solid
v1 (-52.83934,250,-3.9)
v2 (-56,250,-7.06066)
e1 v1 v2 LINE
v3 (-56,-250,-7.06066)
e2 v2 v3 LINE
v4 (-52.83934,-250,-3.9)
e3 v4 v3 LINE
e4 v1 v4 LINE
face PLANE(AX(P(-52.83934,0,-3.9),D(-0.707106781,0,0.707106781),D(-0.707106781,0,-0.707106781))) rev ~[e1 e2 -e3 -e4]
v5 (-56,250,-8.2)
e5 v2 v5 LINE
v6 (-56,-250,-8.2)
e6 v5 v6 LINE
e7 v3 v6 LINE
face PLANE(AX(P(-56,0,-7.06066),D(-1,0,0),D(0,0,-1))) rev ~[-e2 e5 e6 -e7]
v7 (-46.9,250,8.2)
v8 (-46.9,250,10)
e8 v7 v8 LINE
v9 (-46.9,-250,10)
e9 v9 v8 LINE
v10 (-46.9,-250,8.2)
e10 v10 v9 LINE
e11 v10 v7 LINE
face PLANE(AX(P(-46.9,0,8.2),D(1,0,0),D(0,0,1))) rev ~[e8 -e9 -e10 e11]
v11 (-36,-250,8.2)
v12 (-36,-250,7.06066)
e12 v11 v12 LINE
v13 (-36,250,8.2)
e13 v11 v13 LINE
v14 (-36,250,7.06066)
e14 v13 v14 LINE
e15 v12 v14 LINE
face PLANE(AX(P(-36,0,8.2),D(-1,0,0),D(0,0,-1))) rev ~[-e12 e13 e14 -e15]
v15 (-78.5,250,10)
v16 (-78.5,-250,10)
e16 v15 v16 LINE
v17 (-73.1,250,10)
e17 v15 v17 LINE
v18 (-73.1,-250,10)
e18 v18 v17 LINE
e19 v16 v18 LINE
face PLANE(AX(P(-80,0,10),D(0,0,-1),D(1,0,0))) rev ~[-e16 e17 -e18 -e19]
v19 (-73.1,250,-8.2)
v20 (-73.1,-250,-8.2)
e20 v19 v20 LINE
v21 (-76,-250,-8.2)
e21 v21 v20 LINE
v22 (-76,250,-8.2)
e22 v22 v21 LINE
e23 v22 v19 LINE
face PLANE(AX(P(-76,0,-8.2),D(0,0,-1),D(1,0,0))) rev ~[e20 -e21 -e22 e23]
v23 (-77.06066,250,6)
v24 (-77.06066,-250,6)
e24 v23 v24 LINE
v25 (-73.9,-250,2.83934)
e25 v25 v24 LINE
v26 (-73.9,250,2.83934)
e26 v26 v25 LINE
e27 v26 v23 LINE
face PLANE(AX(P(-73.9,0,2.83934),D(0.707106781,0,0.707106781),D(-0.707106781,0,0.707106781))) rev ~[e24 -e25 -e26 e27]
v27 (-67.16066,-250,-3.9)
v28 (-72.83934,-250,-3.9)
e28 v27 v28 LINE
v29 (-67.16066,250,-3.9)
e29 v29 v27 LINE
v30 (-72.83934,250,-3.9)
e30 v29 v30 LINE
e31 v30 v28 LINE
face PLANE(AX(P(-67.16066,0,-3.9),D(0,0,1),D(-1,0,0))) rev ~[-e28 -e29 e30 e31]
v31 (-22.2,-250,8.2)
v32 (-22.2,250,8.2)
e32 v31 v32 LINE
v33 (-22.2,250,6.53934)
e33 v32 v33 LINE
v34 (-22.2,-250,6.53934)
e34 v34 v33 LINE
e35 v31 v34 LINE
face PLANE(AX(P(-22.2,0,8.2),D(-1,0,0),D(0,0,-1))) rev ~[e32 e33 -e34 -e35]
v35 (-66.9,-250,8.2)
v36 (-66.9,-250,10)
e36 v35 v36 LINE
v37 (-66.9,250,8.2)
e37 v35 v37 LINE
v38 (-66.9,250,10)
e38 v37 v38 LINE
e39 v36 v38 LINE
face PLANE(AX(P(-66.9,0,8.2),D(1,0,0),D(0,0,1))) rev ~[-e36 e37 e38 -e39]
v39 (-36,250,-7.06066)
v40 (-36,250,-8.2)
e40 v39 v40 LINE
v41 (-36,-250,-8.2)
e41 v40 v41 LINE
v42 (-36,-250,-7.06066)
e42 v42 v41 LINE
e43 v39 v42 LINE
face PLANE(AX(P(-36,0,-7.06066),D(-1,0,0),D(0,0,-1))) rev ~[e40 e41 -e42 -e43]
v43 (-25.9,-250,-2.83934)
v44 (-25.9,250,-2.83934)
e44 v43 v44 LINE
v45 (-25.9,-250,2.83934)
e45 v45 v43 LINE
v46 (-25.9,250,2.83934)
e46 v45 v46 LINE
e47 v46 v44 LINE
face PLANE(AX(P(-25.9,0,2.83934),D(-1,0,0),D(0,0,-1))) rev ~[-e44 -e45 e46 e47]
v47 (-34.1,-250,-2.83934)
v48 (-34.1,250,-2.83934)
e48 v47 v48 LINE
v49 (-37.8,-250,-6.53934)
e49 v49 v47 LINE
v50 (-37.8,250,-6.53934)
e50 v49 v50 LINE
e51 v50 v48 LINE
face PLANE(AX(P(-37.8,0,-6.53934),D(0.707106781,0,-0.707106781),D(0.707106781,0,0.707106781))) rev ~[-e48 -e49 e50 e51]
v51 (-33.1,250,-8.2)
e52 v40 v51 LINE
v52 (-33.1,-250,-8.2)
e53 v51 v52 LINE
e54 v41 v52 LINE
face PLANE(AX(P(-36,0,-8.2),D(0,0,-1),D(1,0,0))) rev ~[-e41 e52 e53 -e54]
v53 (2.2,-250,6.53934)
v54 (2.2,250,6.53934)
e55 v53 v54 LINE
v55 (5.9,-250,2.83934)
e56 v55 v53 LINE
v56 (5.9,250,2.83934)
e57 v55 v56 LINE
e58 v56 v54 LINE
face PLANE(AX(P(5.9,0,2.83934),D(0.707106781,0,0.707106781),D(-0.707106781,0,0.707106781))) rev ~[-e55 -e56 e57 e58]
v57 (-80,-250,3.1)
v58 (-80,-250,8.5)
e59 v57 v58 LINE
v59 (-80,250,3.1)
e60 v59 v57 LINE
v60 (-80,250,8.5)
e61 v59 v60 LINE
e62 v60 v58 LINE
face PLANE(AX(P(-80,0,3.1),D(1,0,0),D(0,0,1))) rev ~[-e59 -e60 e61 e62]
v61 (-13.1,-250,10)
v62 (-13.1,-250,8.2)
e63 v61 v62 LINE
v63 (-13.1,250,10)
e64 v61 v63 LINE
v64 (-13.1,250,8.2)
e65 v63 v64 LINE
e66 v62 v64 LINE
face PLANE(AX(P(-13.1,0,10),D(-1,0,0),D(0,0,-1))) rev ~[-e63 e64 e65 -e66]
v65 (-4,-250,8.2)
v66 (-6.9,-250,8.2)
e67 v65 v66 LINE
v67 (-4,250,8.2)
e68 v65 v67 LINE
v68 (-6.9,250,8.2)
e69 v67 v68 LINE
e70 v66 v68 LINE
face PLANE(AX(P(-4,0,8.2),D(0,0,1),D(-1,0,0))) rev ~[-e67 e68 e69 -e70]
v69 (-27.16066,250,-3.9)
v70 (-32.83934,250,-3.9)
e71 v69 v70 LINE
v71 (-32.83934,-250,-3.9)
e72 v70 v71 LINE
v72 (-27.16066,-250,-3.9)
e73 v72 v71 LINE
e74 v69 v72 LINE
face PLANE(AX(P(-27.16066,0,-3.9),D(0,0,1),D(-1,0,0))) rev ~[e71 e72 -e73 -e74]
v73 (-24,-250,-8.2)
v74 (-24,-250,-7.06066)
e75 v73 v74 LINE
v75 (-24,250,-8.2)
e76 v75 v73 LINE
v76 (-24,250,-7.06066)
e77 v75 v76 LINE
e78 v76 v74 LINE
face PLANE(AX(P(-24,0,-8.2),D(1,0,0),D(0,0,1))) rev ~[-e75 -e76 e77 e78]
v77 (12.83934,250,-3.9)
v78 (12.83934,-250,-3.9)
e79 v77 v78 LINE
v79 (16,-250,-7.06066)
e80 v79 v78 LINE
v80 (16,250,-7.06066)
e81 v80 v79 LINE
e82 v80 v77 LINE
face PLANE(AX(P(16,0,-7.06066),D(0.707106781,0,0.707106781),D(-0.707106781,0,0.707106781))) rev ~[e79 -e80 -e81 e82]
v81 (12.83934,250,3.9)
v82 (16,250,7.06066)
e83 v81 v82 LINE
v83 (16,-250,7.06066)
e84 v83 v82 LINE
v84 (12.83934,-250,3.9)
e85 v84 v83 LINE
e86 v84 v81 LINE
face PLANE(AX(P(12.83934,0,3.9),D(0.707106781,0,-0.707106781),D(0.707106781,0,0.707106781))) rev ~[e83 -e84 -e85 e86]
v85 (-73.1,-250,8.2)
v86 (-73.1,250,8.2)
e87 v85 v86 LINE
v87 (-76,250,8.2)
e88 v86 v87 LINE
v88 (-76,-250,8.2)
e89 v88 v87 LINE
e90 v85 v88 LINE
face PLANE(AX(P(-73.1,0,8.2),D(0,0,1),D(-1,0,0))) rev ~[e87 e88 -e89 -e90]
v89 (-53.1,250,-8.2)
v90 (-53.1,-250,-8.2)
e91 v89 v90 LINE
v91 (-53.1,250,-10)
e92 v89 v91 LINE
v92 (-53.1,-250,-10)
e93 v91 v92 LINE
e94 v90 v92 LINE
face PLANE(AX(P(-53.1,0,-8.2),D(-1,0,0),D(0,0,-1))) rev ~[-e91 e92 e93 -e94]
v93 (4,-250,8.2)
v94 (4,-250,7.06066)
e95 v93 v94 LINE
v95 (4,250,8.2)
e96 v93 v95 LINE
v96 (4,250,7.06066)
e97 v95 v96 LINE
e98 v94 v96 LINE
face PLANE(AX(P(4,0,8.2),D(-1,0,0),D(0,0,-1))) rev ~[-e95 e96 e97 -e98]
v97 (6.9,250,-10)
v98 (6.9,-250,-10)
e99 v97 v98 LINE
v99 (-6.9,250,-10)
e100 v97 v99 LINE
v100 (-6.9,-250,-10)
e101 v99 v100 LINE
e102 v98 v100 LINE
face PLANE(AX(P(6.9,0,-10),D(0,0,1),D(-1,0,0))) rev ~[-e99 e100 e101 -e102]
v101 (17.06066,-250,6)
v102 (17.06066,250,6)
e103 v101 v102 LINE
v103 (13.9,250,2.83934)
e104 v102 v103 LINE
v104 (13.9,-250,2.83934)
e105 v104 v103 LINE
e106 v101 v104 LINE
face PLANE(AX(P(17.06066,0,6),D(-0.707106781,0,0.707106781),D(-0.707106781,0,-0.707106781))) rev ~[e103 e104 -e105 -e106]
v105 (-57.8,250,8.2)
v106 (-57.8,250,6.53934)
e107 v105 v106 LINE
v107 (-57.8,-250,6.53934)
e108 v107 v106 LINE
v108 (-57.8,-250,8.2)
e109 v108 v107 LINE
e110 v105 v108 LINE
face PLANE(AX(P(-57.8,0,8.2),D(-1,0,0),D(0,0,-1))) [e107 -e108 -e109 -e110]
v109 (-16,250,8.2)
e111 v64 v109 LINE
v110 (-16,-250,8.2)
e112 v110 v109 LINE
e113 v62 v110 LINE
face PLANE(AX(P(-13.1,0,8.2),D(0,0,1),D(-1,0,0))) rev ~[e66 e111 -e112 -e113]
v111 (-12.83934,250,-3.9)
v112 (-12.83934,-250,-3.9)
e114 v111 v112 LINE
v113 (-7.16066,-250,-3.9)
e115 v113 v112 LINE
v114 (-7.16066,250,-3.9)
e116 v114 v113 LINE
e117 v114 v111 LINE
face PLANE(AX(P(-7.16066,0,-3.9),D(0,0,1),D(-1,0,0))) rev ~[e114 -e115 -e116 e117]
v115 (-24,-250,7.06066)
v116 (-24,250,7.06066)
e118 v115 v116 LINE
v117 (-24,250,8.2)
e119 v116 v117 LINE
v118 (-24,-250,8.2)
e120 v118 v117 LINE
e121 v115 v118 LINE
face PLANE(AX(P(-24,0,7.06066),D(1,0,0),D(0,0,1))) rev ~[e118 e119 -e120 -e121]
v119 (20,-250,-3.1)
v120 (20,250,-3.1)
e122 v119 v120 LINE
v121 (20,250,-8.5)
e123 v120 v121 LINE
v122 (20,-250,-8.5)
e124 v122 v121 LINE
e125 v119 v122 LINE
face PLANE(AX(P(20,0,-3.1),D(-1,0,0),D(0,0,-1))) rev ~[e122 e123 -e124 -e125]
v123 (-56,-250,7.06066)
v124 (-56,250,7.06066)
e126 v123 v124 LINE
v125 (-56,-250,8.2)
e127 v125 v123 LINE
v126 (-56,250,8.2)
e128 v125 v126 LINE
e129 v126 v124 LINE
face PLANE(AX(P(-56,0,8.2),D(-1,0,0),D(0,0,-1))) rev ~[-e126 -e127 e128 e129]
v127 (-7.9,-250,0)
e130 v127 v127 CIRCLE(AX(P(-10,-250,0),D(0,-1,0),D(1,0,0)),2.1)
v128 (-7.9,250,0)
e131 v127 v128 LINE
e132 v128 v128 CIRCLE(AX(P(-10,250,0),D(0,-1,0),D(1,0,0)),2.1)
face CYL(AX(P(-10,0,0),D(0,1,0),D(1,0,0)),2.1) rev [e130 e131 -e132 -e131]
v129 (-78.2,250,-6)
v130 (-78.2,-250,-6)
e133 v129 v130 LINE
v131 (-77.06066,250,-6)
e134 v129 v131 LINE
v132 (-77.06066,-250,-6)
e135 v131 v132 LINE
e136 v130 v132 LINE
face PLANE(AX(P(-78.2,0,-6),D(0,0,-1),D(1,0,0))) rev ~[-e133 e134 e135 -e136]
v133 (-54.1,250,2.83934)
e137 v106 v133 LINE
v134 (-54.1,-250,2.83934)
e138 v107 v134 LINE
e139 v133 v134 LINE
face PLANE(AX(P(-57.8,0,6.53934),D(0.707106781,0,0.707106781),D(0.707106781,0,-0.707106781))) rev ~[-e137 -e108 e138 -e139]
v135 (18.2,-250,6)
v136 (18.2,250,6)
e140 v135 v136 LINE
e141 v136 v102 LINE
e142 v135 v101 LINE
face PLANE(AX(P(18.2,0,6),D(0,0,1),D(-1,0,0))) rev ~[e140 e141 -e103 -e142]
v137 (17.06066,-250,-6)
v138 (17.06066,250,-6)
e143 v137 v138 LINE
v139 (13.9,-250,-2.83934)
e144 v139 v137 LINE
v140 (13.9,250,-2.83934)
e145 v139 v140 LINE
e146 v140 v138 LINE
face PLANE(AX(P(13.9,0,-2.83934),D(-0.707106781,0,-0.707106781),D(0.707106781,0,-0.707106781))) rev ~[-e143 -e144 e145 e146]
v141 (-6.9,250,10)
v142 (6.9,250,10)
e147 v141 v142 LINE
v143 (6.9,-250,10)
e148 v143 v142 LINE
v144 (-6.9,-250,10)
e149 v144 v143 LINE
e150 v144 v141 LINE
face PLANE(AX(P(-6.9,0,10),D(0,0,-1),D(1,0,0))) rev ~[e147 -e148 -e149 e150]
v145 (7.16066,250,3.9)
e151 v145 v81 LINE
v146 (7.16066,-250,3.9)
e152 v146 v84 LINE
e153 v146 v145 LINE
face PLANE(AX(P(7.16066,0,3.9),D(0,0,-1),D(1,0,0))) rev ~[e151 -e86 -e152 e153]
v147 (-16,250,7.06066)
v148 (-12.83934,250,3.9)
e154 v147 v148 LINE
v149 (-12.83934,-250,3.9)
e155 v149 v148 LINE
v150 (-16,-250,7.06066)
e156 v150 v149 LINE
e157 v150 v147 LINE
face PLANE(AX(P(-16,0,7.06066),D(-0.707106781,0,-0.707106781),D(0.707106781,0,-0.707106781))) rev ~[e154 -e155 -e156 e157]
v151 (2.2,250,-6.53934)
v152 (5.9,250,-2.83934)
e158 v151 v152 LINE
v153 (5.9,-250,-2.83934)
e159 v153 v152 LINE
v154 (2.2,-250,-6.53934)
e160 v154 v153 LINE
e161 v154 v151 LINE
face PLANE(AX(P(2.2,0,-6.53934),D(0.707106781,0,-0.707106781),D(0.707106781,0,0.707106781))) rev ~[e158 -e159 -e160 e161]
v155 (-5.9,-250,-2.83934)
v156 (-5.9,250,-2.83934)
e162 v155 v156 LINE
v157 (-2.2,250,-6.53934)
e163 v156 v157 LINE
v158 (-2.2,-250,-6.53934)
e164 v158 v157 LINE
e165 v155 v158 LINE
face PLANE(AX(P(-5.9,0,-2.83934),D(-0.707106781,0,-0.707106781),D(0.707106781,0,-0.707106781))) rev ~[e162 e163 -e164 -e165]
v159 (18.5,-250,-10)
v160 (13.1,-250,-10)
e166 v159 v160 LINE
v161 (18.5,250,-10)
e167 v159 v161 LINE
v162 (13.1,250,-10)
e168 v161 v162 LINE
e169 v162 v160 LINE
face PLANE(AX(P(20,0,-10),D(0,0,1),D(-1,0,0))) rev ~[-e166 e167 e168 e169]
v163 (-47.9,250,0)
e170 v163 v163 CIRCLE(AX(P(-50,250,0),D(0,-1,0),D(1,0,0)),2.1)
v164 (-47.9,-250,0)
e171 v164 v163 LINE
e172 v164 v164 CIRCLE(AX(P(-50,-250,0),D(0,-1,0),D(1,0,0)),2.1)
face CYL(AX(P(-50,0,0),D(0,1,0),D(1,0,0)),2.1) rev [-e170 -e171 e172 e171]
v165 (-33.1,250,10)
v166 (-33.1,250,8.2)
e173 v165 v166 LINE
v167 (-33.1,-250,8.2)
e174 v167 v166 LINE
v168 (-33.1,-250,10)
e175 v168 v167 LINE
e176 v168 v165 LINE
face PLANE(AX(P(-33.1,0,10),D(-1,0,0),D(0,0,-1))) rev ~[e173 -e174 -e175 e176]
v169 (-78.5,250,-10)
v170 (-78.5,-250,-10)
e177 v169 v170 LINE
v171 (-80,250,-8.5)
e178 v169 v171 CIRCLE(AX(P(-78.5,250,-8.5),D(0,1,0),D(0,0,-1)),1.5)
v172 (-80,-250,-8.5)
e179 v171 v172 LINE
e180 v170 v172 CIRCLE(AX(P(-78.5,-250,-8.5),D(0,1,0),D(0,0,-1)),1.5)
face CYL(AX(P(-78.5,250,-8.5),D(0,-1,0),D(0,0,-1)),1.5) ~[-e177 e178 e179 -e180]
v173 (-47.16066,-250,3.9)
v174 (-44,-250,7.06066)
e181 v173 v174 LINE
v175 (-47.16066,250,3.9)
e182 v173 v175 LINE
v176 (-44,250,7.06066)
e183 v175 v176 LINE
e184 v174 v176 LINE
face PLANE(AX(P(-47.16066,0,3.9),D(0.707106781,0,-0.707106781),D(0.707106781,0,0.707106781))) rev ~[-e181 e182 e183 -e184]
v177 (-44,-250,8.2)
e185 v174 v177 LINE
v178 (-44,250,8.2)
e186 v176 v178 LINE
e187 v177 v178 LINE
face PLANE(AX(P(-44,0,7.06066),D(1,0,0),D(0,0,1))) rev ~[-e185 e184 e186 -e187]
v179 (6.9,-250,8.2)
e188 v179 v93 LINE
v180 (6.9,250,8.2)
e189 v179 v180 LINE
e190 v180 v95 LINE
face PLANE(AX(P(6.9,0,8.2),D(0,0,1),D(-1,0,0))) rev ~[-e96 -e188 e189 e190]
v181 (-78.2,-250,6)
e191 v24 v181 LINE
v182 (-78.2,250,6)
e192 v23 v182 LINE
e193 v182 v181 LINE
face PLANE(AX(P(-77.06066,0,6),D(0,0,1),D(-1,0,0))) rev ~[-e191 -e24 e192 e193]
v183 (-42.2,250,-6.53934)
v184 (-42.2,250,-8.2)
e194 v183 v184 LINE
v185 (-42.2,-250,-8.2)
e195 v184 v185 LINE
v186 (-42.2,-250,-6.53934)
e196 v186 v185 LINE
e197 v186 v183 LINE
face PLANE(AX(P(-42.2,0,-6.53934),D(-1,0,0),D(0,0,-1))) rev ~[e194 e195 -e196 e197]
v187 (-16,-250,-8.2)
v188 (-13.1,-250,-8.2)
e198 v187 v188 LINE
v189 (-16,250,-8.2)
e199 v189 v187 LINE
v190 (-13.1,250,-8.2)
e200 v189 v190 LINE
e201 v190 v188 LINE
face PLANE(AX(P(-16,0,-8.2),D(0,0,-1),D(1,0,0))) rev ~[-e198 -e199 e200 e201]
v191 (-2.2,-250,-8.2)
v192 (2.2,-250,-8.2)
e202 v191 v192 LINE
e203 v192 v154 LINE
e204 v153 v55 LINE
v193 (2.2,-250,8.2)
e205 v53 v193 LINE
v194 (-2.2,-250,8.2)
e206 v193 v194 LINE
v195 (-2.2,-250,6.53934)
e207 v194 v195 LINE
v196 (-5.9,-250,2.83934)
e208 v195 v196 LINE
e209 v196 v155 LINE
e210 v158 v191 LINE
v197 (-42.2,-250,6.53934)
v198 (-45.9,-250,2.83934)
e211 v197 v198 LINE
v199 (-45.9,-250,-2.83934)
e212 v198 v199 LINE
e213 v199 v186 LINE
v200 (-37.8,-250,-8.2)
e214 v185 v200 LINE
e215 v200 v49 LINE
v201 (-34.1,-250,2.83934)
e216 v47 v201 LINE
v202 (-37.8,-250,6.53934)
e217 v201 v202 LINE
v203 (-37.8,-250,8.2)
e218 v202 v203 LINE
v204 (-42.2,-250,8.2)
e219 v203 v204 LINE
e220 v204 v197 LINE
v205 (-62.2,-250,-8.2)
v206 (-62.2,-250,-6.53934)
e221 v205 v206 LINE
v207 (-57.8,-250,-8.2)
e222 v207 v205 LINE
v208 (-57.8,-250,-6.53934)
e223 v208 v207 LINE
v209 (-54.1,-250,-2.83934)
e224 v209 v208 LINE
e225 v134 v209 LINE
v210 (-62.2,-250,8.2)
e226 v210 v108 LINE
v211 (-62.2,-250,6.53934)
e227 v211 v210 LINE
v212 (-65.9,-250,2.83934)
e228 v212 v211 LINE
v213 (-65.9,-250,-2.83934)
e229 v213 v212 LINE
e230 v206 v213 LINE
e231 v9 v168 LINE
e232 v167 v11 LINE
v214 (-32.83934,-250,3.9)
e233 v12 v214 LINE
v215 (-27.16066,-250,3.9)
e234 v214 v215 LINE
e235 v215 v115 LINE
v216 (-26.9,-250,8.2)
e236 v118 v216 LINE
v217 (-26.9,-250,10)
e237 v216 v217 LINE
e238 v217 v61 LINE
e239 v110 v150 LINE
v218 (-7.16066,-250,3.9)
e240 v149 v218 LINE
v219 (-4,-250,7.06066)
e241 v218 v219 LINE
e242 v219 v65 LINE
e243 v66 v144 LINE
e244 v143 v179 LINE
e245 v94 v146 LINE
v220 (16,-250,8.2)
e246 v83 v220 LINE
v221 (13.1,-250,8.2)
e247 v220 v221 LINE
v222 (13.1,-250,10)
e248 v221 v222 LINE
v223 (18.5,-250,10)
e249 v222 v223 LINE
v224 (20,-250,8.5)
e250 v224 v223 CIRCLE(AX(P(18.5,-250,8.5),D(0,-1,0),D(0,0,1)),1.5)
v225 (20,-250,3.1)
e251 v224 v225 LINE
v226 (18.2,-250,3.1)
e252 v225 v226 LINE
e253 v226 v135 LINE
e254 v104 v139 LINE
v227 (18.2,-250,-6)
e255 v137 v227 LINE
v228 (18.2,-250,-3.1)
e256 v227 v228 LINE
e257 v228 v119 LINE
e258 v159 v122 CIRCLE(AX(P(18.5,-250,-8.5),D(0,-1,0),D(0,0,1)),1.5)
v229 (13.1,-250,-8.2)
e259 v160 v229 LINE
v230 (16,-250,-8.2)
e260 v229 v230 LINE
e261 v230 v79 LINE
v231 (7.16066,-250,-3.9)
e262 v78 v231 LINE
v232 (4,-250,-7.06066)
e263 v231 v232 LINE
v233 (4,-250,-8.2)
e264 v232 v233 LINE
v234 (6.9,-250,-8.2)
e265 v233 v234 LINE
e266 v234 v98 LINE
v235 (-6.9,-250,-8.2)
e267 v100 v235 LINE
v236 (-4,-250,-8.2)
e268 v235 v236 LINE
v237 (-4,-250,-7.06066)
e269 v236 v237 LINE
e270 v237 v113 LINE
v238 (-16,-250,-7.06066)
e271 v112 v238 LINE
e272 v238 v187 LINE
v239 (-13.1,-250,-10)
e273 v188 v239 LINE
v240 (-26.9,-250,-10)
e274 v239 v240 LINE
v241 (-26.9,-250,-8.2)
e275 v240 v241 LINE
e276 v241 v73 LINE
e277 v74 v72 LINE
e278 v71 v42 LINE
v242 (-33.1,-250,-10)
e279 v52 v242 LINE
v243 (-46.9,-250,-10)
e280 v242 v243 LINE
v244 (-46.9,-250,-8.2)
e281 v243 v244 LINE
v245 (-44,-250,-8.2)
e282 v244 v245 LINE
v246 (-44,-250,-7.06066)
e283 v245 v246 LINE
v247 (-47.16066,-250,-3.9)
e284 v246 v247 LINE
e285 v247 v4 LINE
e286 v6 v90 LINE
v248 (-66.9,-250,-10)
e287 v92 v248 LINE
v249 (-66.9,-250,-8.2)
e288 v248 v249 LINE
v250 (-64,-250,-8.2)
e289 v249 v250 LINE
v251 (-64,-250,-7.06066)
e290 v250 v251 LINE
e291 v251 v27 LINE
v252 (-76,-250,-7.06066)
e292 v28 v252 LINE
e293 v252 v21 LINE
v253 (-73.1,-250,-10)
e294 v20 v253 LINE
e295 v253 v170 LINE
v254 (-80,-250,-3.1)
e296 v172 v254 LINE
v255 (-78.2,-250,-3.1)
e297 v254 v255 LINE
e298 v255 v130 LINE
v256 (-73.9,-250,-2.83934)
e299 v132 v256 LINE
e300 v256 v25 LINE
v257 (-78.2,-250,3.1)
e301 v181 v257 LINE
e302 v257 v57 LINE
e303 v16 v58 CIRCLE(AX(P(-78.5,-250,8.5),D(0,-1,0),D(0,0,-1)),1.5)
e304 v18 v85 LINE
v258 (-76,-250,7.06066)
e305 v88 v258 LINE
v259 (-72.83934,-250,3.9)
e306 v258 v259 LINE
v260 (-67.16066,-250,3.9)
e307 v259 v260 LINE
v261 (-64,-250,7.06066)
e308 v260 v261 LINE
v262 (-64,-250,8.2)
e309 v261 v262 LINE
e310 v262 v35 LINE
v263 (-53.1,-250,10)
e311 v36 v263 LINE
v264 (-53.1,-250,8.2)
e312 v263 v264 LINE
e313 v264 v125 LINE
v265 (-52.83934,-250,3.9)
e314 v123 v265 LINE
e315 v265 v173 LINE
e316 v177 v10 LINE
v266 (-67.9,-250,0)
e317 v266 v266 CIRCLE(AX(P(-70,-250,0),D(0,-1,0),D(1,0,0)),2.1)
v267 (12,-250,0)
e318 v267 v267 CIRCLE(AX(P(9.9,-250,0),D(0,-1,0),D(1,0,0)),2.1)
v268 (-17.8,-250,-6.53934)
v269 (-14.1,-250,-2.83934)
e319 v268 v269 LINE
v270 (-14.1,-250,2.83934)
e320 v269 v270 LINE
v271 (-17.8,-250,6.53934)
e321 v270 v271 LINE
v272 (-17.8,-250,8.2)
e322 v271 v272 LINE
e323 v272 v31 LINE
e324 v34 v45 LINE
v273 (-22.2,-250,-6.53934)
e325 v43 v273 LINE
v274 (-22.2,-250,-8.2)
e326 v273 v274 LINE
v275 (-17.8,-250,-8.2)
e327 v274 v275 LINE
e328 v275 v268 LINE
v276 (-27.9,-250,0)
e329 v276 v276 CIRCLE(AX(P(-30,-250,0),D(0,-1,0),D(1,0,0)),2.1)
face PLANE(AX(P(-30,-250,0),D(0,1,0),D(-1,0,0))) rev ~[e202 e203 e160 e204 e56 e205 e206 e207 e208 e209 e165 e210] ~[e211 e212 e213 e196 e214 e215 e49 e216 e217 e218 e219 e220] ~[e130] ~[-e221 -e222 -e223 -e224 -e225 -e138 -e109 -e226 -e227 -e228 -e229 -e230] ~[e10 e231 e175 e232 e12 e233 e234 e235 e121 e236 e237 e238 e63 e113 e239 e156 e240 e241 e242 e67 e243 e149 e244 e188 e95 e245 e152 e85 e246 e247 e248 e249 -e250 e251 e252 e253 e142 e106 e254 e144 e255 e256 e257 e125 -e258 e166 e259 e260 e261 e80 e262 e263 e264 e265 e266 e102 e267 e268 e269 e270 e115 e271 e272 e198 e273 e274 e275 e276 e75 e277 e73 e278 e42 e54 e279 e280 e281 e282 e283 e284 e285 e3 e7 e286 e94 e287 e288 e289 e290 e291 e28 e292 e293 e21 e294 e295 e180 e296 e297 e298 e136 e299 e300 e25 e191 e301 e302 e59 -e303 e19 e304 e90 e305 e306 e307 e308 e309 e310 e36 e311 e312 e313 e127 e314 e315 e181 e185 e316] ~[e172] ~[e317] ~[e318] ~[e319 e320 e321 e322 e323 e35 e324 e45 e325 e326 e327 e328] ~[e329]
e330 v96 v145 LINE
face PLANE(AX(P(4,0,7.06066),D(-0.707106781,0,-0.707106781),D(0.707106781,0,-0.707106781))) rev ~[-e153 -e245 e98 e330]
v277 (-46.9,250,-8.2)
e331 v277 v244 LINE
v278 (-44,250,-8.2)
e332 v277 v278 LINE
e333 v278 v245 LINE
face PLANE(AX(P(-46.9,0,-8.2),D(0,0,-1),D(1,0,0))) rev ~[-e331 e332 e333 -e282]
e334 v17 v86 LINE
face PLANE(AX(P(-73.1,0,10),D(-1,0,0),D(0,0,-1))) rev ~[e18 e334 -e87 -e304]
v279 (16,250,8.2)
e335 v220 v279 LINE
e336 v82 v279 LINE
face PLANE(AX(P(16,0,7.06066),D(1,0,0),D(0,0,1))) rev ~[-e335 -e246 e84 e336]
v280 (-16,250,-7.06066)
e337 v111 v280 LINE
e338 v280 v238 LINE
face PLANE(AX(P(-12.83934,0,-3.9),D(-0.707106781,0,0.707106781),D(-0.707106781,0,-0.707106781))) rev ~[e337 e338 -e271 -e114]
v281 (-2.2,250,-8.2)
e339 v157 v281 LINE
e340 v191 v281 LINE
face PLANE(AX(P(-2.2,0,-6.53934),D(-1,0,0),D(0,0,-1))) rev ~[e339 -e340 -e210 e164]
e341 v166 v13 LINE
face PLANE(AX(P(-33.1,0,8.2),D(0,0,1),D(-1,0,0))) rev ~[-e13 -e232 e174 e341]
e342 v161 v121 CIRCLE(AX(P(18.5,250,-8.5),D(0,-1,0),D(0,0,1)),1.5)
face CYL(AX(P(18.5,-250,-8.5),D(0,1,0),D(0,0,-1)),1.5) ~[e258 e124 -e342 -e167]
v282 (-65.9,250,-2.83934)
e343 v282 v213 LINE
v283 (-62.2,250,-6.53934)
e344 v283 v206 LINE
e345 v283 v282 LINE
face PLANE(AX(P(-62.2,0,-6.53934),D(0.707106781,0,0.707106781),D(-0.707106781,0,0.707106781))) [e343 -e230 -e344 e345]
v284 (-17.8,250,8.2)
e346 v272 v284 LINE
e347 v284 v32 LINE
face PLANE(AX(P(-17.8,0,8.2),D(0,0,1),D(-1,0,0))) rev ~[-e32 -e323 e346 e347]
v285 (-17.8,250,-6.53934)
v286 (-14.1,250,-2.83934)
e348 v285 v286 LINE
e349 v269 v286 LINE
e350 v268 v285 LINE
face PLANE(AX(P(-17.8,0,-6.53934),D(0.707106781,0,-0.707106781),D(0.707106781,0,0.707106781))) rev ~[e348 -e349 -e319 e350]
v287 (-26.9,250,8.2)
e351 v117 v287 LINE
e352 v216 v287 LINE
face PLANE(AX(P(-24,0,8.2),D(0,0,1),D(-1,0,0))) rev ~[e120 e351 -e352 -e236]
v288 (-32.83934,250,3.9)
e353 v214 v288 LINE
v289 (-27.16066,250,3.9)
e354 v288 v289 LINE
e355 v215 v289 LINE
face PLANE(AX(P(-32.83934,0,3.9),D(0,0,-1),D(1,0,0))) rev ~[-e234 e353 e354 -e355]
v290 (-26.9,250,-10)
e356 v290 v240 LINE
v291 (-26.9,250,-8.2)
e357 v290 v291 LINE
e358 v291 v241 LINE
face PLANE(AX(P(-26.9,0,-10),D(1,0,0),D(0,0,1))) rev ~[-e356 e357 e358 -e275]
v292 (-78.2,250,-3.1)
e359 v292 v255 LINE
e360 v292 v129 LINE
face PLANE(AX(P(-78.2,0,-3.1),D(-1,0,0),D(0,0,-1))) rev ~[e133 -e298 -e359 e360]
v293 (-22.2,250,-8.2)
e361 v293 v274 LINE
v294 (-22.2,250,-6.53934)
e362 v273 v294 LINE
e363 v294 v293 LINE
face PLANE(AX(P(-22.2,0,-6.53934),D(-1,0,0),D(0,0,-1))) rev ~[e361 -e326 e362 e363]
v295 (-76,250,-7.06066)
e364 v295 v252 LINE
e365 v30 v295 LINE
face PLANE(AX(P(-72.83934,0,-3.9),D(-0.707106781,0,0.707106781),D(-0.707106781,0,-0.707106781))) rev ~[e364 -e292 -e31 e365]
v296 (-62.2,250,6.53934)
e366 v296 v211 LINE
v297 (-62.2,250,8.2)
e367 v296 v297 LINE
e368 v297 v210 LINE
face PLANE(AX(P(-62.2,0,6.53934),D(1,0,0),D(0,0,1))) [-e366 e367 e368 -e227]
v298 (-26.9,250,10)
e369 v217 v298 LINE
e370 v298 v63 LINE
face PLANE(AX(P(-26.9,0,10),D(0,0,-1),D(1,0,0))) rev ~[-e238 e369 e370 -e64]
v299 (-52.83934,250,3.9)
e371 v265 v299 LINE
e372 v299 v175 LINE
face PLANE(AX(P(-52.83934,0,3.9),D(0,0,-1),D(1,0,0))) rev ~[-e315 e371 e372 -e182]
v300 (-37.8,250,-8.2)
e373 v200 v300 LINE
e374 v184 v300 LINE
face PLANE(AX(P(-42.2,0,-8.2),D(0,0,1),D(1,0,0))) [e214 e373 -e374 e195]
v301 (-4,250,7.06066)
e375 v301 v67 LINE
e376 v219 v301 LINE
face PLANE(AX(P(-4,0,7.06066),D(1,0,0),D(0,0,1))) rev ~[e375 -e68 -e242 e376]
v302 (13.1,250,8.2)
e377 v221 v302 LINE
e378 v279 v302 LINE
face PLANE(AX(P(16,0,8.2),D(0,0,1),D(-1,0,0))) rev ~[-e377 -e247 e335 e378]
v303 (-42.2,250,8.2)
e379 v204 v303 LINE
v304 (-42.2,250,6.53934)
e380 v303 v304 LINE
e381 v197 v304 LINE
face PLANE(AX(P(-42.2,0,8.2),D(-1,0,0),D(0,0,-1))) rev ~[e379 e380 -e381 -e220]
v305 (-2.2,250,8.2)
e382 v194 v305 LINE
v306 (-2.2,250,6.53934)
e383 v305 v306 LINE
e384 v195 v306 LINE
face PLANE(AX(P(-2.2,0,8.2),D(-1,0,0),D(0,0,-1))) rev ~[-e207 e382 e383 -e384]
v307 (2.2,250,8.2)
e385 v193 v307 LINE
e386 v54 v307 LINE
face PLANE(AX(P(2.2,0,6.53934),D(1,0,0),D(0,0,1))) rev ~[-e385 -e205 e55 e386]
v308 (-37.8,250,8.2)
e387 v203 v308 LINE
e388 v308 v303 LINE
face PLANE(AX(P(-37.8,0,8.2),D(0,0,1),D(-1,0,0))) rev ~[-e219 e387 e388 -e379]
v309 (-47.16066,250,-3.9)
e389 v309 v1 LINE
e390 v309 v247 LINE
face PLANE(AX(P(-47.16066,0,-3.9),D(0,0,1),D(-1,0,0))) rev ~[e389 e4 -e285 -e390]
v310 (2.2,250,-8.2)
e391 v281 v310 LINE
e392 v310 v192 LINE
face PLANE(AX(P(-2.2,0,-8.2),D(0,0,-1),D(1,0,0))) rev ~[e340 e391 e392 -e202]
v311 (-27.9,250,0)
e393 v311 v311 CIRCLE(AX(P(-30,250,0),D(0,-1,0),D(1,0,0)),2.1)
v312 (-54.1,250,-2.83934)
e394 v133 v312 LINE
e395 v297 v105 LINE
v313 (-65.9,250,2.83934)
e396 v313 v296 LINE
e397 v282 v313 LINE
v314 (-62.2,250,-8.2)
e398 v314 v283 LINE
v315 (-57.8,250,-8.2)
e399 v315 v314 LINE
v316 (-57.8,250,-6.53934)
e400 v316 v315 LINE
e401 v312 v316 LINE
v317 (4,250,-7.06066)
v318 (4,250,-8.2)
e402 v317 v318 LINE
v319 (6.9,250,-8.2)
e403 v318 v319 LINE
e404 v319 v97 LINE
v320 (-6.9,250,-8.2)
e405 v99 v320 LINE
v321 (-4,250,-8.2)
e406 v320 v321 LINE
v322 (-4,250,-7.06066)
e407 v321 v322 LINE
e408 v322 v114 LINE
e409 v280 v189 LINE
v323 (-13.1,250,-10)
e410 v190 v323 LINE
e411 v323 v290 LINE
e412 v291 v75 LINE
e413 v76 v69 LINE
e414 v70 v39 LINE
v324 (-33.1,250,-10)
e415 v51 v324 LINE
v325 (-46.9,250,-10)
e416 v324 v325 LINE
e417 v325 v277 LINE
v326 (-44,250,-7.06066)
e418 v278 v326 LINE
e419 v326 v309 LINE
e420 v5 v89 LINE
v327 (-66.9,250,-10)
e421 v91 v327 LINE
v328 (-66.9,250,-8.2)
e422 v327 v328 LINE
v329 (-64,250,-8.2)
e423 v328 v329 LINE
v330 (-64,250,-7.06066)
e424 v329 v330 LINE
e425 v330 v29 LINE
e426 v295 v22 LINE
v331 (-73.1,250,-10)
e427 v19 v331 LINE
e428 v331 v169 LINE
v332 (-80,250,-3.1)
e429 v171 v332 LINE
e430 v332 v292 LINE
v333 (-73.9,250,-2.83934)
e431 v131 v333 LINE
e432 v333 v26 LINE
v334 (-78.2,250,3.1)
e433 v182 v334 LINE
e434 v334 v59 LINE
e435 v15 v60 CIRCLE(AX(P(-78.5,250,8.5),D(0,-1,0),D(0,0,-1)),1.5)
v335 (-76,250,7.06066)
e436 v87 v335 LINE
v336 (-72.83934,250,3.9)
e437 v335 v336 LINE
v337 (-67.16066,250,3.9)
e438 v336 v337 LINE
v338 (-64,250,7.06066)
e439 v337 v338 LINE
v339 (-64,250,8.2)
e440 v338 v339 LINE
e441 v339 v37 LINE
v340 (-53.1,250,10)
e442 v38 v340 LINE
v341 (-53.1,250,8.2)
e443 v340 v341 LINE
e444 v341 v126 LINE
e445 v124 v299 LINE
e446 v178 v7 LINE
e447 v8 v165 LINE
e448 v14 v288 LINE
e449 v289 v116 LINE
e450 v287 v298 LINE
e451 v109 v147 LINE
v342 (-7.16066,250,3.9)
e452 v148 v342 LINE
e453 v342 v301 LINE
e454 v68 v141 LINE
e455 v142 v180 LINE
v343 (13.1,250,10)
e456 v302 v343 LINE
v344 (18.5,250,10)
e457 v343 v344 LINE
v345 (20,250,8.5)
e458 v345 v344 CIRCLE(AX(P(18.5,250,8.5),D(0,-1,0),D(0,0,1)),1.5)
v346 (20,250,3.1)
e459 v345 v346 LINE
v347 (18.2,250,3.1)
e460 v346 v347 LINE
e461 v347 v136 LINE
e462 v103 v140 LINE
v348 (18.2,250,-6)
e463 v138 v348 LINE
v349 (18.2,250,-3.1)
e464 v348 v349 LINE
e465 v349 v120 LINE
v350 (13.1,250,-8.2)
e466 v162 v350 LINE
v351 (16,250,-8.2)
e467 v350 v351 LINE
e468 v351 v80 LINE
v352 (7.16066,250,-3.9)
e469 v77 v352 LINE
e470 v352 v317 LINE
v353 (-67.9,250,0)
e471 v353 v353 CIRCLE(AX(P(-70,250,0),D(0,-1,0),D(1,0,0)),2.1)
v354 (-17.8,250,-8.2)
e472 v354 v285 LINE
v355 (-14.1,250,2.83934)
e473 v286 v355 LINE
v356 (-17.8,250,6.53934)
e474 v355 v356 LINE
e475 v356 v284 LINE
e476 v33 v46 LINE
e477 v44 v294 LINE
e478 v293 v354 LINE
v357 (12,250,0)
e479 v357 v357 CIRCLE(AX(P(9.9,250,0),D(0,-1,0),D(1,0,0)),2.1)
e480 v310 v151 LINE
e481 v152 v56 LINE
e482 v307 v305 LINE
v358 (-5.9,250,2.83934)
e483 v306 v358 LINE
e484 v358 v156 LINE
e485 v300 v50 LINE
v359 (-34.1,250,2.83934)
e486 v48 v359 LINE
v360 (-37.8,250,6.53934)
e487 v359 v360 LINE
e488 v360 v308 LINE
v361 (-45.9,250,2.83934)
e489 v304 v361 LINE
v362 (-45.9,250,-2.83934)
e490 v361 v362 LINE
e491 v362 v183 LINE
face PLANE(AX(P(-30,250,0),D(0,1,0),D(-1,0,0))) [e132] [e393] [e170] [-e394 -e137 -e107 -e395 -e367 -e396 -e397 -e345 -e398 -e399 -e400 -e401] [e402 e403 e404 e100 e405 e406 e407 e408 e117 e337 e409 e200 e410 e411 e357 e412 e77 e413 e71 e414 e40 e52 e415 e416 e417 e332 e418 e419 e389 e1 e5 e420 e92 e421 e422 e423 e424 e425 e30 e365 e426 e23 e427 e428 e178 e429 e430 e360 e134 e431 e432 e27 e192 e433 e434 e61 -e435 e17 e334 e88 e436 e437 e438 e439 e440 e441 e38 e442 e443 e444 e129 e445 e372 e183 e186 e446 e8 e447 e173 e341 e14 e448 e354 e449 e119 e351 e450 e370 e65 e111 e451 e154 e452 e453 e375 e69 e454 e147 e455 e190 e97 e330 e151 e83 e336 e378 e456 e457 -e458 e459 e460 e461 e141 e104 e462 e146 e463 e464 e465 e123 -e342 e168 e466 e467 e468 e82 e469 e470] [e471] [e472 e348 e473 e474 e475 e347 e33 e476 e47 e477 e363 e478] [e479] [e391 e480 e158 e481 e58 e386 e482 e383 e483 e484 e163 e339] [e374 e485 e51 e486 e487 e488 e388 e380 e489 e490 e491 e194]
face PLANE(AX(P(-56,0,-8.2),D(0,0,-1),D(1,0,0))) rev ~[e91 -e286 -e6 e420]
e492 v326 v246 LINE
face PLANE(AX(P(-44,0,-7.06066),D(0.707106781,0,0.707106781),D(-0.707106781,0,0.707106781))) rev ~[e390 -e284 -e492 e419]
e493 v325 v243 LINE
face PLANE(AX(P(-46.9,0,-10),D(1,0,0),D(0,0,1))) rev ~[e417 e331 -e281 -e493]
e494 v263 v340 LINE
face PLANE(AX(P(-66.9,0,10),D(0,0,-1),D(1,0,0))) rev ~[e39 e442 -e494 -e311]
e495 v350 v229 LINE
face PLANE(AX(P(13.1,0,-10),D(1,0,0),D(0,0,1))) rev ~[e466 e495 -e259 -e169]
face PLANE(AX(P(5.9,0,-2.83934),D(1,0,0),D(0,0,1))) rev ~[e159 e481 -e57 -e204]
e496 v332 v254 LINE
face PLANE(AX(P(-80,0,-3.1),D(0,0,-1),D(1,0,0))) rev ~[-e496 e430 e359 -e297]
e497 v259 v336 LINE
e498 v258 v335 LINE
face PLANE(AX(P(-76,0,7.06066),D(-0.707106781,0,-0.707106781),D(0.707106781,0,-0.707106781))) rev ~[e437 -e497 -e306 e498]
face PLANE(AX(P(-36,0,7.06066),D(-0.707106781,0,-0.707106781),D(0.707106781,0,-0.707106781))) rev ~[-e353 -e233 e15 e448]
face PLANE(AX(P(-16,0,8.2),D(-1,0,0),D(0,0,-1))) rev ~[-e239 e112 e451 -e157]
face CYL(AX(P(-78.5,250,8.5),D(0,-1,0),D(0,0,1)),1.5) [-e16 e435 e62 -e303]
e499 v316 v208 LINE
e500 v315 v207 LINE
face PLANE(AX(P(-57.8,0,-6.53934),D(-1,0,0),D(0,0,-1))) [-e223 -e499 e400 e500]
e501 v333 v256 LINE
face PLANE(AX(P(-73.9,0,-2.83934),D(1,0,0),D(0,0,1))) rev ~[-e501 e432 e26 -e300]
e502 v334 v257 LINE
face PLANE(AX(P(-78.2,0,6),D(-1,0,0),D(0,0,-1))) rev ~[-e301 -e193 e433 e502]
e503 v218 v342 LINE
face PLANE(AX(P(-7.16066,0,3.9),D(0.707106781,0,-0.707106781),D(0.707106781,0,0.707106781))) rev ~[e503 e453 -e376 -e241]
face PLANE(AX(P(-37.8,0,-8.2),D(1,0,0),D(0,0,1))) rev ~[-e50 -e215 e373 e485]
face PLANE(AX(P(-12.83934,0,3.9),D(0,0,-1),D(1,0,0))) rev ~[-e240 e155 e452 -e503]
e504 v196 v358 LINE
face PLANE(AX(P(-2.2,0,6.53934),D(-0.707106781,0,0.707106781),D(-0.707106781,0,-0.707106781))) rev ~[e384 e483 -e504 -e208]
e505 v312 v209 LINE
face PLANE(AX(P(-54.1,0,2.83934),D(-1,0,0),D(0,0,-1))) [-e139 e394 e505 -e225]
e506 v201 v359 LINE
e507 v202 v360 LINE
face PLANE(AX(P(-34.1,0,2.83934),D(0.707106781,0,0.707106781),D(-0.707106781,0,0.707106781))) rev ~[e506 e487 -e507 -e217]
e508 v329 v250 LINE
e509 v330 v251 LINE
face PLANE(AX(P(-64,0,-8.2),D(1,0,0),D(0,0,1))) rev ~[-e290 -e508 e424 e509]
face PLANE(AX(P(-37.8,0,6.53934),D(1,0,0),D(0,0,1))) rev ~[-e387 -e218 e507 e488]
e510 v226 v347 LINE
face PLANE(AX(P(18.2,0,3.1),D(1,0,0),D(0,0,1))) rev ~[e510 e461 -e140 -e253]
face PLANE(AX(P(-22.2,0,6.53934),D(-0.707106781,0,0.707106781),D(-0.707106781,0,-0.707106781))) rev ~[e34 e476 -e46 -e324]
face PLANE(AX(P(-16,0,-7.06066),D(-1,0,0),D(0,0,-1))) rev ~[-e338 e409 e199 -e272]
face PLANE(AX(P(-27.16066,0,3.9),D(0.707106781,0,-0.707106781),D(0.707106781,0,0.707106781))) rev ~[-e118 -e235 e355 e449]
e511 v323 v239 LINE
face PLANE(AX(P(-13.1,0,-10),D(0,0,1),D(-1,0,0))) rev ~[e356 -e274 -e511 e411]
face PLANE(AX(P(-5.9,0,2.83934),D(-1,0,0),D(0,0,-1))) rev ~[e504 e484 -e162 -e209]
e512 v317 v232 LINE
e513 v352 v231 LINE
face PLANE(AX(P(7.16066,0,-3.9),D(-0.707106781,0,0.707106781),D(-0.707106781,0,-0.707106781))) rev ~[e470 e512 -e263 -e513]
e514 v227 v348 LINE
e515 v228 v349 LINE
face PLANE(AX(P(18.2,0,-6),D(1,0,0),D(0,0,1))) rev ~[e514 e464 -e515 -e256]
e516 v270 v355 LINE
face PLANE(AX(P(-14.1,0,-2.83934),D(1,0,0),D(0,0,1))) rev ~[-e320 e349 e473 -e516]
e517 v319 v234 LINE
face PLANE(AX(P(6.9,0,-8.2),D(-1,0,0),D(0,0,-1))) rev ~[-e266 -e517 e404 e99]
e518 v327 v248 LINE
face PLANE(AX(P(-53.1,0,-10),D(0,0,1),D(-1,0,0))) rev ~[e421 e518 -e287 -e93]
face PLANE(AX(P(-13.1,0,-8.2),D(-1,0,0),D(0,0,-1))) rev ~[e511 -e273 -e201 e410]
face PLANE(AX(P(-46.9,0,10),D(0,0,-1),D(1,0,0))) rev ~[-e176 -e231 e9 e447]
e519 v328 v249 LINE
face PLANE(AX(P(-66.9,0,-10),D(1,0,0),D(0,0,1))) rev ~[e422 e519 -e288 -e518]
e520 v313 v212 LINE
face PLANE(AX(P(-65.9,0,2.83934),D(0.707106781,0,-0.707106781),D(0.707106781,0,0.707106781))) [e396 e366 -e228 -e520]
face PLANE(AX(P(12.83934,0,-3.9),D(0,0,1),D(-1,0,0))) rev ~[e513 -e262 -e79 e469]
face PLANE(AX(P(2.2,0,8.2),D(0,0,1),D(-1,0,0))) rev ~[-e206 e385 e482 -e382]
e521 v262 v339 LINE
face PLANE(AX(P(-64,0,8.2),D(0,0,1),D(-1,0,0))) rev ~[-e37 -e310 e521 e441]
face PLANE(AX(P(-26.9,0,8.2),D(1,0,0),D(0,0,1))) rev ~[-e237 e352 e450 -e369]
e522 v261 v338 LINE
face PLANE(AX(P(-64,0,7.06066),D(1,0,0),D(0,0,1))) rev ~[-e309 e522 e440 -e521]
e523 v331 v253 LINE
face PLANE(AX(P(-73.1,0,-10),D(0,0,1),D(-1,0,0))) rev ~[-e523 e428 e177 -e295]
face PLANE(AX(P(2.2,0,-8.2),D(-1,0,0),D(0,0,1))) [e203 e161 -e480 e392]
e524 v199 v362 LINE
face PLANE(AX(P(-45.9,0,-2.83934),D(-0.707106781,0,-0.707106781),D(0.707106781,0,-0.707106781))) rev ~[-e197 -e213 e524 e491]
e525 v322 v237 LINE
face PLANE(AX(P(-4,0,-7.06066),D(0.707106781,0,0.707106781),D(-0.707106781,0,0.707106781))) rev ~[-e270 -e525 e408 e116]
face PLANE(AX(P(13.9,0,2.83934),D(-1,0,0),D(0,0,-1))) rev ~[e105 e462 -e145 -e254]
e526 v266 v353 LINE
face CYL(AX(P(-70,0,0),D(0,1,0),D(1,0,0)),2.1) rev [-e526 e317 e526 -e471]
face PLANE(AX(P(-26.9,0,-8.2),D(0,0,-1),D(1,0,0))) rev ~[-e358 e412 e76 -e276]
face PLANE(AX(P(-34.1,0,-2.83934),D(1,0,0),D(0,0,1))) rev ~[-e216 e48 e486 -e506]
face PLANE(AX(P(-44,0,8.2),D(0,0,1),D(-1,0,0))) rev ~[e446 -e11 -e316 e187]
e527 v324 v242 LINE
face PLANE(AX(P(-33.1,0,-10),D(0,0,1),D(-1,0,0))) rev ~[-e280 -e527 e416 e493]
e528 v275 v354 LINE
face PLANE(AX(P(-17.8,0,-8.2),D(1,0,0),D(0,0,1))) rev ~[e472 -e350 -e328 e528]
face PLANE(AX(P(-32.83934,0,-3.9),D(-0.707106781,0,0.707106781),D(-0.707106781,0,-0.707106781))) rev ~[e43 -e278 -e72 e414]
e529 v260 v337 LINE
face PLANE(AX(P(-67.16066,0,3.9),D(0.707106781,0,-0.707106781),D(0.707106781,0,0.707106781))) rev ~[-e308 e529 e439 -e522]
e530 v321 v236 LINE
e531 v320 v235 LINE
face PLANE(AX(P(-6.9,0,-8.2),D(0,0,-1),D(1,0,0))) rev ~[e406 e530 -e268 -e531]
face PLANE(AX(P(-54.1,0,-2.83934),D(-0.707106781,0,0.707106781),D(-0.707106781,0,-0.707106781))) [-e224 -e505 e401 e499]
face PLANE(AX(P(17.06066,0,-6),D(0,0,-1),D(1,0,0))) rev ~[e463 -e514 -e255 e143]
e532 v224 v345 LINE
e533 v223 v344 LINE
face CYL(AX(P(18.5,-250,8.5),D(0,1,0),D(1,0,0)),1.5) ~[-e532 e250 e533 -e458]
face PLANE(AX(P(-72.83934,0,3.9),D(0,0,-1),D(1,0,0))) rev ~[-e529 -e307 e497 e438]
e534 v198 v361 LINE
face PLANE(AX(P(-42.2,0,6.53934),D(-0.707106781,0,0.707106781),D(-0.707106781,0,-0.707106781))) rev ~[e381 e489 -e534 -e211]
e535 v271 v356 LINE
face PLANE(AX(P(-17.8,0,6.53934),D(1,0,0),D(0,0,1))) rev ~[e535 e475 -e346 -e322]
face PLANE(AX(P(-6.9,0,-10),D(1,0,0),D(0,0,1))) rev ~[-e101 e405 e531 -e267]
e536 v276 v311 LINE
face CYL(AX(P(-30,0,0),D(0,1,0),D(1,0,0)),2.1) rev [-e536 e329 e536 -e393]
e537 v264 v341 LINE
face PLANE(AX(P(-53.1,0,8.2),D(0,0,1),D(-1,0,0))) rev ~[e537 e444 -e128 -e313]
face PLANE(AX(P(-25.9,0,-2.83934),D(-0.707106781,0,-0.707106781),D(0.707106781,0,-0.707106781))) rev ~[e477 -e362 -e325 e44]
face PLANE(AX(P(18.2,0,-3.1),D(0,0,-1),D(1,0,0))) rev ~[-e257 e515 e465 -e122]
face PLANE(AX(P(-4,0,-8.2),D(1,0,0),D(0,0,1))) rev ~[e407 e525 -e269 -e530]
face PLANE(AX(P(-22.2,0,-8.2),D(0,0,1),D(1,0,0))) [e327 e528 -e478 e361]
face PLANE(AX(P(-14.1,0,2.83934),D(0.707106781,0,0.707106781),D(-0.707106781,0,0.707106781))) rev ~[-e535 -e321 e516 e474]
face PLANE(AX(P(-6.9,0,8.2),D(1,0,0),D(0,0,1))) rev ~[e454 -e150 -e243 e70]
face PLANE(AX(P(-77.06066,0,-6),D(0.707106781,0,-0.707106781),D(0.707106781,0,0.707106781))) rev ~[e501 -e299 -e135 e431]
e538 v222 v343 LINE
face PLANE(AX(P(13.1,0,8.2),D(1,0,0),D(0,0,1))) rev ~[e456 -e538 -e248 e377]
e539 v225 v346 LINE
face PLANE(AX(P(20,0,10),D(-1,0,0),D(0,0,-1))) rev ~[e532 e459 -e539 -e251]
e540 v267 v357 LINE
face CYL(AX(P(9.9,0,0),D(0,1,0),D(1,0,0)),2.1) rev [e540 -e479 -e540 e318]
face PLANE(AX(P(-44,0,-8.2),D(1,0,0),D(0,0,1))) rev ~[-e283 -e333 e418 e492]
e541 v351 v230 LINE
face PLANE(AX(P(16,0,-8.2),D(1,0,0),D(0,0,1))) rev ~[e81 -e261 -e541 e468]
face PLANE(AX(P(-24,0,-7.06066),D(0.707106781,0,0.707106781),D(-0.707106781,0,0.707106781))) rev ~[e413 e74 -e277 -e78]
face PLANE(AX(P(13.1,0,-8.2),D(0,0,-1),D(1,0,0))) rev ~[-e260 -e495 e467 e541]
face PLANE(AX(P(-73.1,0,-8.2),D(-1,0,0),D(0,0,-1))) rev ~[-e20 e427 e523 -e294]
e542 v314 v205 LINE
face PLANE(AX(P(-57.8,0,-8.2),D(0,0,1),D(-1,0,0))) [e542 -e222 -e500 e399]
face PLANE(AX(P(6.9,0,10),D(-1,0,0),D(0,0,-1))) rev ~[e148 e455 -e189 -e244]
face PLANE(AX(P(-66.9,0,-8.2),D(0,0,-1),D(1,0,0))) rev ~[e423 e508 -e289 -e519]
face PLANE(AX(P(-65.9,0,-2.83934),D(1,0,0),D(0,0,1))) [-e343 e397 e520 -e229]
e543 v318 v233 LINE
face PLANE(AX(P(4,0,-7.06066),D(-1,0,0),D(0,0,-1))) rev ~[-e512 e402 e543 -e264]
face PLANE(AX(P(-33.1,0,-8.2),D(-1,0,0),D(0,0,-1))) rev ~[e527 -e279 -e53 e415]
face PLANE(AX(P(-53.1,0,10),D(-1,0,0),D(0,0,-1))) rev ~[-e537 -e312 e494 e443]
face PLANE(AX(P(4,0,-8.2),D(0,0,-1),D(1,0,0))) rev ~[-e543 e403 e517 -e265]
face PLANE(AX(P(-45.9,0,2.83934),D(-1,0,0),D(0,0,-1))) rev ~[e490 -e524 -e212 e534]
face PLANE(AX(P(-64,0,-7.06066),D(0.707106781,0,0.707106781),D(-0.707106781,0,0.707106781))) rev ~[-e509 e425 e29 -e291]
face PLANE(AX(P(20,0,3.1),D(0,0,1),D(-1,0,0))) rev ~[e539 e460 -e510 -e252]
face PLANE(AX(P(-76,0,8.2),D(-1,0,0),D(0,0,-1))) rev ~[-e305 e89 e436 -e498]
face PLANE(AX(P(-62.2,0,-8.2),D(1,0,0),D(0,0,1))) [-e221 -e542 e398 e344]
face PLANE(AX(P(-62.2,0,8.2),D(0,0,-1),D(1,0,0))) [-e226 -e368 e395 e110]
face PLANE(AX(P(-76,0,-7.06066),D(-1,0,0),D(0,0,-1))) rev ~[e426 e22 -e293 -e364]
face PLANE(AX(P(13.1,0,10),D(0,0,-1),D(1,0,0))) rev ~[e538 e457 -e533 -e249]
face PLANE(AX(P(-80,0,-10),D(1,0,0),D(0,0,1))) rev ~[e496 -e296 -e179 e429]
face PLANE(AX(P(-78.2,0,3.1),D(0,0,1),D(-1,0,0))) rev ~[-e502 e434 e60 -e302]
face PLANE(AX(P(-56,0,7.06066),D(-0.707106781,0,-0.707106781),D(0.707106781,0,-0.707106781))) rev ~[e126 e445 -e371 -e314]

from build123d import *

# Parameters (mm, degrees)
SKETCH_R  = 2.1
PAD_DEPTH = 250
FILLET_R  = 1.5


with BuildPart() as part:
    # Sketch → Pad (new body, symmetric)
    with BuildSketch(Plane.XZ):
        Polygon((-10, 10), (-3.1, 10), (-3.1, 8.2), (-6, 8.2), (-6, 7.06066), (-2.83934, 3.9), (2.83934, 3.9), (6, 7.06066), (6, 8.2), (3.1, 8.2), (3.1, 10), (16.9, 10), (16.9, 8.2), (14, 8.2), (14, 7.06066), (17.16066, 3.9), (22.83934, 3.9), (26, 7.06066), (26, 8.2), (23.1, 8.2), (23.1, 10), (36.9, 10), (36.9, 8.2), (34, 8.2), (34, 7.06066), (37.16066, 3.9), (42.83934, 3.9), (46, 7.06066), (46, 8.2), (43.1, 8.2), (43.1, 10), (56.9, 10), (56.9, 8.2), (54, 8.2), (54, 7.06066), (57.16066, 3.9), (62.83934, 3.9), (66, 7.06066), (66, 8.2), (63.1, 8.2), (63.1, 10), (76.9, 10), (76.9, 8.2), (74, 8.2), (74, 7.06066), (77.16066, 3.9), (82.83934, 3.9), (86, 7.06066), (86, 8.2), (83.1, 8.2), (83.1, 10), (90, 10), (90, 3.1), (88.2, 3.1), (88.2, 6), (87.06066, 6), (83.9, 2.83934), (83.9, -2.83934), (87.06066, -6), (88.2, -6), (88.2, -3.1), (90, -3.1), (90, -10), (83.1, -10), (83.1, -8.2), (86, -8.2), (86, -7.06066), (82.83934, -3.9), (77.16066, -3.9), (74, -7.06066), (74, -8.2), (76.9, -8.2), (76.9, -10), (63.1, -10), (63.1, -8.2), (66, -8.2), (66, -7.06066), (62.83934, -3.9), (57.16066, -3.9), (54, -7.06066), (54, -8.2), (56.9, -8.2), (56.9, -10), (43.1, -10), (43.1, -8.2), (46, -8.2), (46, -7.06066), (42.83934, -3.9), (37.16066, -3.9), (34, -7.06066), (34, -8.2), (36.9, -8.2), (36.9, -10), (23.1, -10), (23.1, -8.2), (26, -8.2), (26, -7.06066), (22.83934, -3.9), (17.16066, -3.9), (14, -7.06066), (14, -8.2), (16.9, -8.2), (16.9, -10), (3.1, -10), (3.1, -8.2), (6, -8.2), (6, -7.06066), (2.83934, -3.9), (-2.83934, -3.9), (-6, -7.06066), (-6, -8.2), (-3.1, -8.2), (-3.1, -10), (-10, -10), (-10, -3.1), (-8.2, -3.1), (-8.2, -6), (-7.06066, -6), (-3.9, -2.83934), (-3.9, 2.83934), (-7.06066, 6), (-8.2, 6), (-8.2, 3.1), (-10, 3.1), align=None)
        Circle(SKETCH_R, mode=Mode.SUBTRACT)
        with Locations((20, 0)):
            Circle(SKETCH_R, mode=Mode.SUBTRACT)
        with Locations((40, 0)):
            Circle(SKETCH_R, mode=Mode.SUBTRACT)
        with Locations((79.9, 0)):
            Circle(SKETCH_R, mode=Mode.SUBTRACT)
        with Locations((60, 0)):
            Circle(SKETCH_R, mode=Mode.SUBTRACT)
        Polygon((7.8, -6.53934), (4.1, -2.83934), (4.1, 2.83934), (7.8, 6.53934), (7.8, 8.2), (12.2, 8.2), (12.2, 6.53934), (15.9, 2.83934), (15.9, -2.83934), (12.2, -6.53934), (12.2, -8.2), (7.8, -8.2), align=None, mode=Mode.SUBTRACT)
        Polygon((27.8, 8.2), (27.8, 6.53934), (24.1, 2.83934), (24.1, -2.83934), (27.8, -6.53934), (27.8, -8.2), (32.2, -8.2), (32.2, -6.53934), (35.9, -2.83934), (35.9, 2.83934), (32.2, 6.53934), (32.2, 8.2), align=None, mode=Mode.SUBTRACT)
        Polygon((47.8, 8.2), (47.8, 6.53934), (44.1, 2.83934), (44.1, -2.83934), (47.8, -6.53934), (47.8, -8.2), (52.2, -8.2), (52.2, -6.53934), (55.9, -2.83934), (55.9, 2.83934), (52.2, 6.53934), (52.2, 8.2), align=None, mode=Mode.SUBTRACT)
        Polygon((72.2, -8.2), (72.2, -6.53934), (75.9, -2.83934), (75.9, 2.83934), (72.2, 6.53934), (72.2, 8.2), (67.8, 8.2), (67.8, 6.53934), (64.1, 2.83934), (64.1, -2.83934), (67.8, -6.53934), (67.8, -8.2), align=None, mode=Mode.SUBTRACT)
    extrude(amount=PAD_DEPTH, both=True)

    # Fillet
    fillet_edges = [part.edges().sort_by_distance(p)[0] for p in [
        (-10, 0, 10),
        (90, 0, 10),
        (90, 0, -10),
        (-10, 0, -10),
    ]]
    fillet(fillet_edges, radius=FILLET_R)


with BuildPart() as part_1:
    # Body placement: moved
    add(part.part.moved(Location((-70, 0, 0))))


solid = part_1.part
